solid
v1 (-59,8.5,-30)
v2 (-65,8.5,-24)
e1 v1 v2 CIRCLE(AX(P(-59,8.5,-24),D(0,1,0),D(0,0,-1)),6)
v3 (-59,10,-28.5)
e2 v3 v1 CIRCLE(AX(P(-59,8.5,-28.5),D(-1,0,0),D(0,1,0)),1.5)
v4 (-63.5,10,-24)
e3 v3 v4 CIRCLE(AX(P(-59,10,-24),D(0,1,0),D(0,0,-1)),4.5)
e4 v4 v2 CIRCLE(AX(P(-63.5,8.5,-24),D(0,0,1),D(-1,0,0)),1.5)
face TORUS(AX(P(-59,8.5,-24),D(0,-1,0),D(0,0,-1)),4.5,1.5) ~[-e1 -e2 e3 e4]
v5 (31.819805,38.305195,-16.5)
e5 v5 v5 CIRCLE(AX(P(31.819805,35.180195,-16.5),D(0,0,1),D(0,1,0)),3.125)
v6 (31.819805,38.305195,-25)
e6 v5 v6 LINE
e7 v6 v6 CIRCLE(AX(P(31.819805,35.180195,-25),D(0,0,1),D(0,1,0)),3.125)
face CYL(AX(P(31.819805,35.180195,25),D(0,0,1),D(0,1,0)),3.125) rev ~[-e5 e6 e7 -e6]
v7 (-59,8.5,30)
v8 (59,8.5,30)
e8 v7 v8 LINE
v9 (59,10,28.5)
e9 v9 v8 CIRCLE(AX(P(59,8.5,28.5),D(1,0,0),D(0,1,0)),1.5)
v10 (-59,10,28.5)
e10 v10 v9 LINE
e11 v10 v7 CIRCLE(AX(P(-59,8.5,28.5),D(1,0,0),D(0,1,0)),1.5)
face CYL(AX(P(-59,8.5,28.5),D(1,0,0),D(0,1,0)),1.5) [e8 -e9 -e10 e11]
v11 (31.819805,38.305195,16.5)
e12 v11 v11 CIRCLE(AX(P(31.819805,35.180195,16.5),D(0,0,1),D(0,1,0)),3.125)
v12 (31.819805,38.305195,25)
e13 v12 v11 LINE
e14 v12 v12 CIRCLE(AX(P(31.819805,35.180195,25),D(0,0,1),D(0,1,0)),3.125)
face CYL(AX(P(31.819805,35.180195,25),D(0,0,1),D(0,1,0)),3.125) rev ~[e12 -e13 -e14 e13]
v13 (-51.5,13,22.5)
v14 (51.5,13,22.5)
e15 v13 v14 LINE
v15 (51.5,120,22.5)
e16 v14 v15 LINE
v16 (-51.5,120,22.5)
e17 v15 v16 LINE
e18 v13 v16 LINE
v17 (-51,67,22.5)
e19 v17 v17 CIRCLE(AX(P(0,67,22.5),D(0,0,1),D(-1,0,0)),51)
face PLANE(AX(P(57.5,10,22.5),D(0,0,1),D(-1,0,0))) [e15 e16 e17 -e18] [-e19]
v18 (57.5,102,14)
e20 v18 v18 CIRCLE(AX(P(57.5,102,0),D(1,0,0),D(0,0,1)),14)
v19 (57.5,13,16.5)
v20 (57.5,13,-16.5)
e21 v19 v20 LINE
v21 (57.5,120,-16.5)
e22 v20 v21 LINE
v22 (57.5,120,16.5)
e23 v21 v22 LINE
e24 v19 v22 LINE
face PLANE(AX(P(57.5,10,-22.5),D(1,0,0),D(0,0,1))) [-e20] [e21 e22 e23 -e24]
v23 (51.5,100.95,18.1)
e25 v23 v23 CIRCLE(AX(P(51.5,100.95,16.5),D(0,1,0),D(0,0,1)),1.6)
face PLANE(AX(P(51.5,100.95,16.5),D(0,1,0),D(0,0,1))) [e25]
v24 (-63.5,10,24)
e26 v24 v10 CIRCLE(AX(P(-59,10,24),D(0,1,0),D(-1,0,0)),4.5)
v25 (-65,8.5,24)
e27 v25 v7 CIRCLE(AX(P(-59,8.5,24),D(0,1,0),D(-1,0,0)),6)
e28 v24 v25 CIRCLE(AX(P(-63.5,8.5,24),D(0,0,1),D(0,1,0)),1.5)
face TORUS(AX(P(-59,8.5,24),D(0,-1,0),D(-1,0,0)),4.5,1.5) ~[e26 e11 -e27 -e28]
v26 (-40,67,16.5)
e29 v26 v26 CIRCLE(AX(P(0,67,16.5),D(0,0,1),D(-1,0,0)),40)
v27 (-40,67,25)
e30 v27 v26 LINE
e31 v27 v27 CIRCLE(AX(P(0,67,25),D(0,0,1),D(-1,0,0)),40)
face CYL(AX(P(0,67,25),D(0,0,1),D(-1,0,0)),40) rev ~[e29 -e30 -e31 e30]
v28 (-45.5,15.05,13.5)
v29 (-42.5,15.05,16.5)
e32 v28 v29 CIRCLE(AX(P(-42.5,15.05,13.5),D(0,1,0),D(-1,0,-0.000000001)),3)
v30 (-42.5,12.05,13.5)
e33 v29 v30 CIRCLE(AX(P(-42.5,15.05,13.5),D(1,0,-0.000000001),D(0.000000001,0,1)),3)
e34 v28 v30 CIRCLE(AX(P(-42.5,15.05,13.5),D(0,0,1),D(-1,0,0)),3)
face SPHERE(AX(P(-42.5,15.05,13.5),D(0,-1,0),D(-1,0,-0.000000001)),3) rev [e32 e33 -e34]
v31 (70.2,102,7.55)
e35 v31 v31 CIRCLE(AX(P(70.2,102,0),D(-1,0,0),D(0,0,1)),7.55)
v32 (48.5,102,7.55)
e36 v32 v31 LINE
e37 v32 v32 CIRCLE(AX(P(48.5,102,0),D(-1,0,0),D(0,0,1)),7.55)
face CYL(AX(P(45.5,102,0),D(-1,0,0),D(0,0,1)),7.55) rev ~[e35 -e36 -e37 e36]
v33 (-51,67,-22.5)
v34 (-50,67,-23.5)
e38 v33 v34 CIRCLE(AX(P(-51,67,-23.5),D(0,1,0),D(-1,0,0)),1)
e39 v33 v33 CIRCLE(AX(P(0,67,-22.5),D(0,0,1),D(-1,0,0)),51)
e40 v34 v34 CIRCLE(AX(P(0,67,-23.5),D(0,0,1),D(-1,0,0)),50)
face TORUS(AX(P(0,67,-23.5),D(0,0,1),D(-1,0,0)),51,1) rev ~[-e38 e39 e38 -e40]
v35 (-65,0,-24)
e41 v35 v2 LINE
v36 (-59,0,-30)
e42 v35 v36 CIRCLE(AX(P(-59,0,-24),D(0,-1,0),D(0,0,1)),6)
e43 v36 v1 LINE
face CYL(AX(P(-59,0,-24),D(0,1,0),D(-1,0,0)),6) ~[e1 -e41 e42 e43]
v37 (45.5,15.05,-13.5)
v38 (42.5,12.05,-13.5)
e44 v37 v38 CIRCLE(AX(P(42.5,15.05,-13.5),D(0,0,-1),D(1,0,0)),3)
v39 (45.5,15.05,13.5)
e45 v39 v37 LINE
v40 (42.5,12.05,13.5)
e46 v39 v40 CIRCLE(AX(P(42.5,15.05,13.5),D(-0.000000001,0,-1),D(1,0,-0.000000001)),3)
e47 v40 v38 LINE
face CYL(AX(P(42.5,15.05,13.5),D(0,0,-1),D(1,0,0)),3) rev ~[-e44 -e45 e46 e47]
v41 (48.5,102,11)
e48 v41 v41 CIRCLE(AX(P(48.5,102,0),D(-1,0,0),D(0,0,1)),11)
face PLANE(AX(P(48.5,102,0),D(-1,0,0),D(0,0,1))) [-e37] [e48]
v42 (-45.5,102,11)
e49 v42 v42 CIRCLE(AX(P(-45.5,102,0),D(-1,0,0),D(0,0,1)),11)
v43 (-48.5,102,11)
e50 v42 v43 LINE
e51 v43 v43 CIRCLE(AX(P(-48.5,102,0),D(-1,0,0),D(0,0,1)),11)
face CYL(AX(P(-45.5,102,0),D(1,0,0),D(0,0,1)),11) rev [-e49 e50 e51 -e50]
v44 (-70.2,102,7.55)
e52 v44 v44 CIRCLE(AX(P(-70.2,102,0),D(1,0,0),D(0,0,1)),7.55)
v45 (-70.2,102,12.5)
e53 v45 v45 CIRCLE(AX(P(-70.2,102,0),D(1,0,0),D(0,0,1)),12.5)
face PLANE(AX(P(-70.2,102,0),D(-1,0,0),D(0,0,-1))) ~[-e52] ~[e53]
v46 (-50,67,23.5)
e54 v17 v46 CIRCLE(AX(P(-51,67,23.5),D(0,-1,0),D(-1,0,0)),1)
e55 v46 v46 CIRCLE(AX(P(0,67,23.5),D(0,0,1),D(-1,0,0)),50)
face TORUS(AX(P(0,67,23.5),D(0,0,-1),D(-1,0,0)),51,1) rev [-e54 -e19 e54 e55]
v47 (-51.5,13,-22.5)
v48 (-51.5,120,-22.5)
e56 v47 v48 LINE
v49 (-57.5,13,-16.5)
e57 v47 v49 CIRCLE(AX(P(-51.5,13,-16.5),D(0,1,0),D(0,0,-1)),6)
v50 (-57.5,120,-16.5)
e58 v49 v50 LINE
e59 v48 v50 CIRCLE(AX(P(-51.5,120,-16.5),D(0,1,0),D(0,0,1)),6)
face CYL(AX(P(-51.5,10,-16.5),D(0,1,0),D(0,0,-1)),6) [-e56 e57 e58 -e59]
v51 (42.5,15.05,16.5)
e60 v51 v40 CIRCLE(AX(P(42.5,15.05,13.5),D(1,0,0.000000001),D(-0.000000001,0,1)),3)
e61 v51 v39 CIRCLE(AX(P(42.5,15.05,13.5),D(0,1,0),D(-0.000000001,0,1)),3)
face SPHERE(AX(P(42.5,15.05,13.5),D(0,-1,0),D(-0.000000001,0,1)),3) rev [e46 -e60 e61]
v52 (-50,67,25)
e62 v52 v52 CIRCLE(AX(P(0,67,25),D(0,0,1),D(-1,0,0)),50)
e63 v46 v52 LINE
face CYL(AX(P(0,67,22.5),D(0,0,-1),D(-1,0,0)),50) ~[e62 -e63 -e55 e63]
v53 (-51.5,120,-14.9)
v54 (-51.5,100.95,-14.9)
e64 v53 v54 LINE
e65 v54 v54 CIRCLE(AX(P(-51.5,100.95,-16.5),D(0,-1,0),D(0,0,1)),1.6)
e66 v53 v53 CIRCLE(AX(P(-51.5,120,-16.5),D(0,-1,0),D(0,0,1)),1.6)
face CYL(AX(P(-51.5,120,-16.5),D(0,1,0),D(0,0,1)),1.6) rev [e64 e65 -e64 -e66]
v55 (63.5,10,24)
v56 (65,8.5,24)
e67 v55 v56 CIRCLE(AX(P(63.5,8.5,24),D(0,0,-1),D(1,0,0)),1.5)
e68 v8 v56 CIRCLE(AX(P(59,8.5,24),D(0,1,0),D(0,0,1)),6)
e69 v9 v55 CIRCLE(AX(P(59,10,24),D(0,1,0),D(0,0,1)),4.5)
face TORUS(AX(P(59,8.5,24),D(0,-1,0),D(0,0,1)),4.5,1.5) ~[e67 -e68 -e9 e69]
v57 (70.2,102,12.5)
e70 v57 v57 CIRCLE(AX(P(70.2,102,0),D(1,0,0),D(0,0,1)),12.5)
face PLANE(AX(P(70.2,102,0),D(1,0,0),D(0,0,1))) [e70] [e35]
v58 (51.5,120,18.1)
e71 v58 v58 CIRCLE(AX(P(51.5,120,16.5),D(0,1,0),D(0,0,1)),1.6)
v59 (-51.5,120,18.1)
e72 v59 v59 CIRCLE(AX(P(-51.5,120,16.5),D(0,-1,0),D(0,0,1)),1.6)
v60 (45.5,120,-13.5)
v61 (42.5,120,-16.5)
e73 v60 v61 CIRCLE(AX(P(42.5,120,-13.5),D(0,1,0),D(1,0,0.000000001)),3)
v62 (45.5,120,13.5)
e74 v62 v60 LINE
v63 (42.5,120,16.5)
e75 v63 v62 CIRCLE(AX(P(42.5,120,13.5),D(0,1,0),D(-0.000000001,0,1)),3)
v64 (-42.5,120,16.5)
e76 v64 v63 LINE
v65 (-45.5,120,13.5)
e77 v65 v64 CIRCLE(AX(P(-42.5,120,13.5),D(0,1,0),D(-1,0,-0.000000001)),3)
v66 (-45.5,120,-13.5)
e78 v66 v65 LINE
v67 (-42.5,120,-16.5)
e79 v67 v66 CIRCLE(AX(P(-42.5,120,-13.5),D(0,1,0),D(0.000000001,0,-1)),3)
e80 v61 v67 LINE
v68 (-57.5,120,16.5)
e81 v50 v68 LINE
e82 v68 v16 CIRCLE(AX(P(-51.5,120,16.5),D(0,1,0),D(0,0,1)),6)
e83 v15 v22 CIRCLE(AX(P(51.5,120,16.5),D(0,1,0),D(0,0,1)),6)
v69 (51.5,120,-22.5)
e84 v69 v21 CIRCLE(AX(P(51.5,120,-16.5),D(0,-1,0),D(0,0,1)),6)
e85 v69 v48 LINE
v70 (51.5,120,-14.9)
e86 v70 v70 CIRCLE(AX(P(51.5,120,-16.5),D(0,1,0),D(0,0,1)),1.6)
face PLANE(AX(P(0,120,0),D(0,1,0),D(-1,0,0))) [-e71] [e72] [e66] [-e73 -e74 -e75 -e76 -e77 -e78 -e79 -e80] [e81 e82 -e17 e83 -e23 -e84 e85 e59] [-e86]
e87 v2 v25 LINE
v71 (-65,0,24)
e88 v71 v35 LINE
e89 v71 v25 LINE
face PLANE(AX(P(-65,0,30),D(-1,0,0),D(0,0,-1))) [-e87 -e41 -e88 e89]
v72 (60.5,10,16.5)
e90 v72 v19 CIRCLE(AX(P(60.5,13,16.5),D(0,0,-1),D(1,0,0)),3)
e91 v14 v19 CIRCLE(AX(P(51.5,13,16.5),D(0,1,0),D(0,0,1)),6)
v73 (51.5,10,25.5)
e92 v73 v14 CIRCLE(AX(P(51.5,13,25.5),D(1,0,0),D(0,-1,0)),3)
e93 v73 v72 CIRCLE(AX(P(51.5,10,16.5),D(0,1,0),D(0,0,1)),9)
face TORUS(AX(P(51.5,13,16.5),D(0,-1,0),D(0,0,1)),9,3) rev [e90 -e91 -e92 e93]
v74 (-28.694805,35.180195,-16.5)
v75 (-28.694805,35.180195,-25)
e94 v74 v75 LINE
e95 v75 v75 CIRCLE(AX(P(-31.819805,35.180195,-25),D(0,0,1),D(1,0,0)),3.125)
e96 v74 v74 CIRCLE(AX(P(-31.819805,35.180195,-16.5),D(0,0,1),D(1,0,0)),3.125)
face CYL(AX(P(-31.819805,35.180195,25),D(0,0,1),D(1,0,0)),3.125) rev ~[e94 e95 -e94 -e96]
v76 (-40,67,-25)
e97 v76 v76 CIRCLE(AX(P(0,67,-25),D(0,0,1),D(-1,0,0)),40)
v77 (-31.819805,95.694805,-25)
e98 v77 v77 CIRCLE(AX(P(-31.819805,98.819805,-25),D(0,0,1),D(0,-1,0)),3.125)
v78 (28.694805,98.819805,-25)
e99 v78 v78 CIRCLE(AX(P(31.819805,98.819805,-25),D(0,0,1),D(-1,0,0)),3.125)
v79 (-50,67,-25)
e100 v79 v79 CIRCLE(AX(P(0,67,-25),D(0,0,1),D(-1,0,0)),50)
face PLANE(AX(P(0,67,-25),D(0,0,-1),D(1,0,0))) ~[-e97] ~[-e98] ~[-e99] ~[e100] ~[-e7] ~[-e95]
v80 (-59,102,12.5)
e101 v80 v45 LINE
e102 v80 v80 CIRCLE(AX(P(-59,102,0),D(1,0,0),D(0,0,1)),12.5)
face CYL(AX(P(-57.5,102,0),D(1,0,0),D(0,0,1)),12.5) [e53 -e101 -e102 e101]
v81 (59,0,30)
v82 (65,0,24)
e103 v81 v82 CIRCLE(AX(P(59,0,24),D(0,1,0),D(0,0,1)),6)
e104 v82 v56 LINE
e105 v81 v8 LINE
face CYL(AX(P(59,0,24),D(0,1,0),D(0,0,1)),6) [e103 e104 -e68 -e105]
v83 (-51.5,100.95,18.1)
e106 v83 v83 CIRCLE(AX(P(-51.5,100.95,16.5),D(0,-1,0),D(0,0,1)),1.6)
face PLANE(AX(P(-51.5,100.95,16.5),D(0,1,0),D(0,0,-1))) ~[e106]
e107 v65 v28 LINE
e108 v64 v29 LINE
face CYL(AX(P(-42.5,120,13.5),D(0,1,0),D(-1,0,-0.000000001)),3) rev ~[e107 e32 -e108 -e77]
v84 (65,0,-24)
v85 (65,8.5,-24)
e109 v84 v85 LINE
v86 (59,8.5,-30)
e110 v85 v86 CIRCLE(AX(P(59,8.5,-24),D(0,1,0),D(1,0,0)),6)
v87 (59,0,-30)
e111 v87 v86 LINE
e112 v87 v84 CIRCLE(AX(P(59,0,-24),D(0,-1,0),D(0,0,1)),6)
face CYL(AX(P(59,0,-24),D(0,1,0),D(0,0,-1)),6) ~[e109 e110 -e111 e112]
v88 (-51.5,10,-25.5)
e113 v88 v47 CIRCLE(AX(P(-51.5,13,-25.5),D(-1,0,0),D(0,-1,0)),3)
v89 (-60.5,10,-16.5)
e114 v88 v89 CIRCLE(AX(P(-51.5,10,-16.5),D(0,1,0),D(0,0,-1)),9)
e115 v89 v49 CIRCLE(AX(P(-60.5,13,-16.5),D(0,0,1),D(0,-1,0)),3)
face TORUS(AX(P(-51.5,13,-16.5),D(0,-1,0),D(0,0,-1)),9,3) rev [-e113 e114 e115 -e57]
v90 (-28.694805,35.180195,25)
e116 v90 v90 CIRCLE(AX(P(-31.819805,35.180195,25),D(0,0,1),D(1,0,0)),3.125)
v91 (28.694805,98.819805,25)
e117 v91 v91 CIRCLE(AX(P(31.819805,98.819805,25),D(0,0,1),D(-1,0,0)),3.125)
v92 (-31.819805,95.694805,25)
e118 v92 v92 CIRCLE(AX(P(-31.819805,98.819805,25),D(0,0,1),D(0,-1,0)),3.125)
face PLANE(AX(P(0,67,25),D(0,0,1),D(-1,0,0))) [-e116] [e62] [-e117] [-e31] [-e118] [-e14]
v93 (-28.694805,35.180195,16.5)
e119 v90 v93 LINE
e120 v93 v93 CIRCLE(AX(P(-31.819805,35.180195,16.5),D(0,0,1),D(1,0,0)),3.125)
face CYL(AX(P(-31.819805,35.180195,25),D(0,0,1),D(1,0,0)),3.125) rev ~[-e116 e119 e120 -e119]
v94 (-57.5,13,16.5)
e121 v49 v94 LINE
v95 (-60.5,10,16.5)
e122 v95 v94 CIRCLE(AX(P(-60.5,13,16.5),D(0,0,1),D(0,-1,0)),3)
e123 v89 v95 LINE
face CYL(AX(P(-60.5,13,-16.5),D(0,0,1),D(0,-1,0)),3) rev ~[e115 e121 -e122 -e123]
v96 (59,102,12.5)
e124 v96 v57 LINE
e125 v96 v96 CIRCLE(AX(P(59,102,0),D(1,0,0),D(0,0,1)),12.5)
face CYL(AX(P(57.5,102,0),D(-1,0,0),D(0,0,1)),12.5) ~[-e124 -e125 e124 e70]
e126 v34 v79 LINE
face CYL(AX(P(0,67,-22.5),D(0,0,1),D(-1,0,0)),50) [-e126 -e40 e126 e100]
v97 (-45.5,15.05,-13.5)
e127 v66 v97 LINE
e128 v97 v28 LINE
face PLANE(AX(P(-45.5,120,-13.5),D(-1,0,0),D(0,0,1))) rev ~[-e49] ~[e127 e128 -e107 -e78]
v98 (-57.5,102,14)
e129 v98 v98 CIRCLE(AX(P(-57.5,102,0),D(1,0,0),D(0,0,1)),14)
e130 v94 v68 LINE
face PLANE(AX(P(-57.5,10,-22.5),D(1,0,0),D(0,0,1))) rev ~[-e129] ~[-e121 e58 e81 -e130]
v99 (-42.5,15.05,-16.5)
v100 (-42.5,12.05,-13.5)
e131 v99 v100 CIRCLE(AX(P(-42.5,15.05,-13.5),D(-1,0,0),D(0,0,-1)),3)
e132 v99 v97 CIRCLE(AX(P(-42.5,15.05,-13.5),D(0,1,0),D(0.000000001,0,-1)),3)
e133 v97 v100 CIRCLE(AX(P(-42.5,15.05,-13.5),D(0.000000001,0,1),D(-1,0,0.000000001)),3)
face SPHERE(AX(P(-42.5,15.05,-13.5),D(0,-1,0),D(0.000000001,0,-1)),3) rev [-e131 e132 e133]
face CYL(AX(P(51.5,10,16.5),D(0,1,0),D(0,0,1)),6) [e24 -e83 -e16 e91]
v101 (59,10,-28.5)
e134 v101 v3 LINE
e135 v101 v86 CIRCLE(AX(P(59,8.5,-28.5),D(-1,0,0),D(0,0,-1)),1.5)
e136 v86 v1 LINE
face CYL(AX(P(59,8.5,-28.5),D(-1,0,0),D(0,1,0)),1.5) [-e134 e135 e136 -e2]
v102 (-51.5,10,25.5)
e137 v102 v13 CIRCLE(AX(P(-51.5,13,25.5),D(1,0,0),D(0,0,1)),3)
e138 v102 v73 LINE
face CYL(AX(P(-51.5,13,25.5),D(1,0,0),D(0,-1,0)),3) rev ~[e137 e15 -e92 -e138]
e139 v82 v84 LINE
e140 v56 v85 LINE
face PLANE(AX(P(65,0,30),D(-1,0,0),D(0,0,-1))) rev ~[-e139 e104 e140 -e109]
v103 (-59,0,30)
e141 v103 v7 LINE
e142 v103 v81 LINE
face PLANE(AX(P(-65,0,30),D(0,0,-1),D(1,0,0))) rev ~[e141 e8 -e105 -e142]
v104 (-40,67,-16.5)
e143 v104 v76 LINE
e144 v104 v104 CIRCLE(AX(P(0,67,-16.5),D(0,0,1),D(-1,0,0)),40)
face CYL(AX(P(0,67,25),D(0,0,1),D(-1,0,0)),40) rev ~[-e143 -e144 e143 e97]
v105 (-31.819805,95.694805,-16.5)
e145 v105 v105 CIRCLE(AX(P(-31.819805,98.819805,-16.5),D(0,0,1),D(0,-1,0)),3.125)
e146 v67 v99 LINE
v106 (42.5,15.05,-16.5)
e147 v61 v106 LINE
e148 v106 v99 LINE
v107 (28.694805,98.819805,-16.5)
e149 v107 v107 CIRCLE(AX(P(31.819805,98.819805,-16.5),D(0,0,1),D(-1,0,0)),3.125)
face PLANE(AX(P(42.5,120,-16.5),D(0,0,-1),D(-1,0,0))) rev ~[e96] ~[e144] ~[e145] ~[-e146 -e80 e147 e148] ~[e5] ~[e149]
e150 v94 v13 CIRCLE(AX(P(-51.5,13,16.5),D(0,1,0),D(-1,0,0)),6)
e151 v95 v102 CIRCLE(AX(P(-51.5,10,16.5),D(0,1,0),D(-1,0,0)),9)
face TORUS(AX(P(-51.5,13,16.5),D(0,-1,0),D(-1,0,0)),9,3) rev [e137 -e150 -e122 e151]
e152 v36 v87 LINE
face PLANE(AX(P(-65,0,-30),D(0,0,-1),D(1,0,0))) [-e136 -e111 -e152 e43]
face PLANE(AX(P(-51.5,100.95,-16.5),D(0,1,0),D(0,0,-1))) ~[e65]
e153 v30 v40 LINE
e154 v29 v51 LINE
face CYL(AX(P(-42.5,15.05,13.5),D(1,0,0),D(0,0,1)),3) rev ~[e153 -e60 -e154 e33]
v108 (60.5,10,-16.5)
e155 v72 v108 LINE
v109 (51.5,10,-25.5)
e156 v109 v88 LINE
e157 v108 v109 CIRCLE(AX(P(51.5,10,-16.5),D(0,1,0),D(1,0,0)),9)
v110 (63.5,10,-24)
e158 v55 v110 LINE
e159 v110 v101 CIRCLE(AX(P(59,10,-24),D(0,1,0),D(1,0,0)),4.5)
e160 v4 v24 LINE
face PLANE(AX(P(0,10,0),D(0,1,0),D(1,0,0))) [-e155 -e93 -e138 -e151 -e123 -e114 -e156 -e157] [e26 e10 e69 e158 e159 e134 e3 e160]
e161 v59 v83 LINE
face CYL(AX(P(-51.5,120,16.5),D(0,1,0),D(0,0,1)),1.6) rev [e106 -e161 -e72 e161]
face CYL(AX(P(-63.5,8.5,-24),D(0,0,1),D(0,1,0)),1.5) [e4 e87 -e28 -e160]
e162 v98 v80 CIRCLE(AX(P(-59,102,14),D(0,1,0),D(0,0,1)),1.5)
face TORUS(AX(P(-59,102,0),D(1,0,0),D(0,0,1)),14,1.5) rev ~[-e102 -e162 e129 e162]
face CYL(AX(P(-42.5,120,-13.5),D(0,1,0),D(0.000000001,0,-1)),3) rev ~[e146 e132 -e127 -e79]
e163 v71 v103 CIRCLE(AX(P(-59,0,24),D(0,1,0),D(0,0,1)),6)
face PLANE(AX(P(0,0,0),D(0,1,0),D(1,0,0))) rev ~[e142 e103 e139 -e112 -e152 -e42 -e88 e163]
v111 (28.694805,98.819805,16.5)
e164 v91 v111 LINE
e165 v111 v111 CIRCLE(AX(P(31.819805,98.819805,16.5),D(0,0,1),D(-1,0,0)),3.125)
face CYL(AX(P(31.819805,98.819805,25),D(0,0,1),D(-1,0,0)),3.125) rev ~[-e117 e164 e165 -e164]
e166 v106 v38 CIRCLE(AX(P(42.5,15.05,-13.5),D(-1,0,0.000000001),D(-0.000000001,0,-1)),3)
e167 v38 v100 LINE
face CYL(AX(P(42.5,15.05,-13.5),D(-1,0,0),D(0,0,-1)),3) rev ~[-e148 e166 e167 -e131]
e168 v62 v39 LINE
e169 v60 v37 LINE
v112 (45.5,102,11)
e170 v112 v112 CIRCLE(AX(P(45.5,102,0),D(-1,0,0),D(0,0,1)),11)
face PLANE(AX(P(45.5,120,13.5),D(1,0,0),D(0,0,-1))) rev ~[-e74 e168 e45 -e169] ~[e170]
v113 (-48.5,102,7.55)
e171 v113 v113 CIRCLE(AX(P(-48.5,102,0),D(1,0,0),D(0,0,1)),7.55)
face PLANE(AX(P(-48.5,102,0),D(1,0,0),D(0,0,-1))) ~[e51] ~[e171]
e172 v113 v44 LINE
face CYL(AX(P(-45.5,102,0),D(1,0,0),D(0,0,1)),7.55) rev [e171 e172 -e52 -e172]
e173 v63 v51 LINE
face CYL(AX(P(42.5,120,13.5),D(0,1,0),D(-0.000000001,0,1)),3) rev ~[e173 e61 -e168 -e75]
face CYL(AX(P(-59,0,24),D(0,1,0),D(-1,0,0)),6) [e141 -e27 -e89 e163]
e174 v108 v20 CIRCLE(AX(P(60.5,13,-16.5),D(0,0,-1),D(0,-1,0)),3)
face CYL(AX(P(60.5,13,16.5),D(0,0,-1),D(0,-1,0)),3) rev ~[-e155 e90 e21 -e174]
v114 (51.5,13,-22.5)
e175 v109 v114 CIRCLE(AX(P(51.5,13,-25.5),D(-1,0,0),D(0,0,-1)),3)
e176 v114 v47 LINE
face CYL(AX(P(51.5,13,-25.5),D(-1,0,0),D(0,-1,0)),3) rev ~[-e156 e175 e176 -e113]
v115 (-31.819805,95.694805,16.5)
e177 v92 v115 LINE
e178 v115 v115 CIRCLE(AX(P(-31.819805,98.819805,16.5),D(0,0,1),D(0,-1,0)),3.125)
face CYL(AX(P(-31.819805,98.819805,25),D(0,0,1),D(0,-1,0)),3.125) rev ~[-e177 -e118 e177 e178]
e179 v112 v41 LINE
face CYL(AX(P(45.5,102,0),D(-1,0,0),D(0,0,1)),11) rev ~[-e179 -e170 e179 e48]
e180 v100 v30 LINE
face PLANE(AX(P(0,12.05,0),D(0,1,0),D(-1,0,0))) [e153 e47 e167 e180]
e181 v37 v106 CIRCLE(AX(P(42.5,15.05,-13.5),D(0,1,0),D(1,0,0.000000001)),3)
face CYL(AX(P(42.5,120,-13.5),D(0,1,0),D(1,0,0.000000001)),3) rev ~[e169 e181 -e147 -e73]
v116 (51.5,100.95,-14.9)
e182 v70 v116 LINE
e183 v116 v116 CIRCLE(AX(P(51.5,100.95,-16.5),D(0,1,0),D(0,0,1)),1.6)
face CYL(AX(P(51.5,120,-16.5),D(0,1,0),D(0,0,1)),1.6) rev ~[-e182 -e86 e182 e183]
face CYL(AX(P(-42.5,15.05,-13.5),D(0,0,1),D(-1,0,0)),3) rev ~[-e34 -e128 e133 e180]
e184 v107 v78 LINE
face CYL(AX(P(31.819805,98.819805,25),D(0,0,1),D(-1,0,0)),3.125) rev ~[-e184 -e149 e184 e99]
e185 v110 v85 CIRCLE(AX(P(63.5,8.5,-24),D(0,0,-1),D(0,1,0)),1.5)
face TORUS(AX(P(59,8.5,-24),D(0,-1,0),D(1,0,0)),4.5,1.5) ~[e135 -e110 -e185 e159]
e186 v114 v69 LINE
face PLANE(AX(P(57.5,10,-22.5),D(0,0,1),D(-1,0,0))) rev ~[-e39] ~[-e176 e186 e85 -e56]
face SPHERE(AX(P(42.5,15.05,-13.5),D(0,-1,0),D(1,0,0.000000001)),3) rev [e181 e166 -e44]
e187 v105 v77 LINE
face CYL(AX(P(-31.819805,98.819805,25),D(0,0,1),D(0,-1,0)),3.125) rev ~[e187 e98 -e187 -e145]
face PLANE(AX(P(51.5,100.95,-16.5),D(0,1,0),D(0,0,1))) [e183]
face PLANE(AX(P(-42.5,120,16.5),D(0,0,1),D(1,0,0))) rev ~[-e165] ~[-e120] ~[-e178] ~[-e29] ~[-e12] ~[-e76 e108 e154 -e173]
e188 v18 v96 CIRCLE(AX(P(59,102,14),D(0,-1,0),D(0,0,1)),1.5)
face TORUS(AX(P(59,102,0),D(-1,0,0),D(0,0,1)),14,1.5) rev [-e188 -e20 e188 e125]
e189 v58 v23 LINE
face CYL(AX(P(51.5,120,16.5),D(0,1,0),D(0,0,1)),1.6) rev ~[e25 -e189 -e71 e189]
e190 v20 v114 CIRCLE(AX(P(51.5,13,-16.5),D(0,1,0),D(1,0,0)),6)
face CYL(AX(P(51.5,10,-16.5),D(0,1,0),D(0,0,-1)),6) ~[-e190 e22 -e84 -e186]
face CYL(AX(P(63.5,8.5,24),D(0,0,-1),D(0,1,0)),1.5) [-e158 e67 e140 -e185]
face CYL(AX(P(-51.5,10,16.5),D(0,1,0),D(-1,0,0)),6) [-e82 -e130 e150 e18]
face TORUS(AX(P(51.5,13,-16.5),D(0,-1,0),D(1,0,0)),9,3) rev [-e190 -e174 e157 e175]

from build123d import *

# Parameters (mm, degrees)
SKETCH1_W           = 130
SKETCH1_H           = 60
BASE_EXTRUDE_DEPTH  = 10
SKETCH2_W           = 115
SKETCH2_H           = 45
BOSS_EXTRUDE1_DEPTH = 110
FILLET1_R           = 6
FILLET2_R           = 1.5
FILLET3_R           = 3
CUT_EXTRUDE1_DEPTH  = 107.95
FILLET4_R           = 3
SKETCH4_R           = 50
BOSS_EXTRUDE2_DEPTH = 2.5
SKETCH5_R           = 40
CUT_EXTRUDE2_DEPTH  = 148.13938974
FILLET5_R           = 1
SKETCH6_R           = 12.5
BOSS_EXTRUDE3_DEPTH = 12.7
SKETCH7_R           = 7.55
CUT_EXTRUDE3_DEPTH  = 166.862141618
SKETCH8_R           = 11
CUT_EXTRUDE4_DEPTH  = 3
FILLET6_R           = 1.5
SKETCH9_R           = 3.125
CUT_EXTRUDE5_DEPTH  = 150.509330812
CIRPATTERN1_COUNT   = 4
SKETCH10_R          = 1.6
CUT_EXTRUDE6_DEPTH  = 19.05


with BuildPart() as part:
    # Sketch1 → Base-Extrude (new body)
    with BuildSketch(Plane(origin=(0, 0, 0), x_dir=(1, 0, 0), z_dir=(0, 1, 0))):
        Rectangle(SKETCH1_W, SKETCH1_H)
    extrude(amount=BASE_EXTRUDE_DEPTH)

    # Sketch2 → Boss-Extrude1 (add)
    with BuildSketch(Plane(origin=(0, 10, 0), x_dir=(-1, 0, 0), z_dir=(0, 1, 0))):
        Rectangle(SKETCH2_W, SKETCH2_H)
    extrude(amount=BOSS_EXTRUDE1_DEPTH)

    # Fillet1
    fillet1_edges = [part.edges().sort_by_distance(p)[0] for p in [
        (-57.5, 65, -22.5),
        (-57.5, 65, 22.5),
        (57.5, 65, 22.5),
        (57.5, 65, -22.5),
        (-65, 5, -30),
        (65, 5, -30),
        (65, 5, 30),
        (-65, 5, 30),
    ]]
    fillet(fillet1_edges, radius=FILLET1_R)

    # Fillet2
    fillet2_edges = [part.edges().sort_by_distance(p)[0] for p in [
        (0, 10, 30),
        (-65, 10, 0),
        (65, 10, 0),
        (0, 10, -30),
        (-63.242640687, 10, -28.242640687),
        (63.242640687, 10, 28.242640687),
        (63.242640687, 10, -28.242640687),
        (-63.242640687, 10, 28.242640687),
    ]]
    fillet(fillet2_edges, radius=FILLET2_R)

    # Fillet3
    fillet3_edges = [part.edges().sort_by_distance(p)[0] for p in [
        (-57.5, 10, 0),
        (0, 10, -22.5),
        (57.5, 10, 0),
        (0, 10, 22.5),
        (-55.742640687, 10, 20.742640687),
        (-55.742640687, 10, -20.742640687),
        (55.742640687, 10, 20.742640687),
        (55.742640687, 10, -20.742640687),
    ]]
    fillet(fillet3_edges, radius=FILLET3_R)

    # Sketch3 → Cut-Extrude1 (cut)
    with BuildSketch(Plane(origin=(0, 120, 0), x_dir=(-1, 0, 0), z_dir=(0, 1, 0))):
        with BuildLine():
            Line((42.5, 16.5), (-42.5, 16.5))
            ThreePointArc((-42.5, 16.5), (-44.621320344, 15.621320344), (-45.5, 13.5))
            Line((-45.5, 13.5), (-45.5, -13.5))
            ThreePointArc((-45.5, -13.5), (-44.621320344, -15.621320344), (-42.5, -16.5))
            Line((-42.5, -16.5), (42.5, -16.5))
            ThreePointArc((42.5, -16.5), (44.621320344, -15.621320344), (45.5, -13.5))
            Line((45.5, -13.5), (45.5, 13.5))
            ThreePointArc((45.5, 13.5), (44.621320344, 15.621320344), (42.5, 16.5))
        make_face()
    extrude(amount=-CUT_EXTRUDE1_DEPTH, mode=Mode.SUBTRACT)

    # Fillet4
    fillet4_edges = [part.edges().sort_by_distance(p)[0] for p in [
        (44.621320344, 12.05, 15.621320344),
        (0, 12.05, 16.5),
        (-44.621320344, 12.05, 15.621320344),
        (-45.5, 12.05, 0),
        (-44.621320344, 12.05, -15.621320344),
        (0, 12.05, -16.5),
        (44.621320344, 12.05, -15.621320344),
        (45.5, 12.05, 0),
    ]]
    fillet(fillet4_edges, radius=FILLET4_R)

    # Sketch4 → Boss-Extrude2 (add)
    with BuildSketch(Plane.XY.offset(22.5)):
        with Locations(Location((0, 67, 0), (0, 0, 180))):
            Circle(SKETCH4_R)
    boss_extrude2 = extrude(amount=BOSS_EXTRUDE2_DEPTH)

    # Mirror1: Boss-Extrude2 across plane
    add(boss_extrude2.mirror(Plane.XY))

    # Sketch5 → Cut-Extrude2 (cut, through all)
    with BuildSketch(Plane.XY.offset(25)):
        with Locations(Location((0, 67, 0), (0, 0, 180))):
            Circle(SKETCH5_R)
    extrude(amount=-CUT_EXTRUDE2_DEPTH, mode=Mode.SUBTRACT)

    # Fillet5
    fillet5_edges = [part.edges().sort_by_distance(p)[0] for p in [
        (50, 67, 22.5),
        (50, 67, -22.5),
    ]]
    fillet(fillet5_edges, radius=FILLET5_R)

    # Sketch6 → Boss-Extrude3 (add)
    with BuildSketch(Plane(origin=(57.5, 0, 0), x_dir=(0, 0, -1), z_dir=(1, 0, 0))):
        with Locations(Location((0, 102, 0), (0, 0, 180))):
            Circle(SKETCH6_R)
    boss_extrude3 = extrude(amount=BOSS_EXTRUDE3_DEPTH)

    # Sketch7 → Cut-Extrude3 (cut, through all)
    with BuildSketch(Plane.ZY.offset(-45.5)):
        with Locations((0, 102)):
            Circle(SKETCH7_R)
    cut_extrude3 = extrude(amount=-CUT_EXTRUDE3_DEPTH, mode=Mode.SUBTRACT)

    # Sketch8 → Cut-Extrude4 (cut)
    with BuildSketch(Plane.ZY.offset(-45.5)):
        with Locations((0, 102)):
            Circle(SKETCH8_R)
    cut_extrude4 = extrude(amount=-CUT_EXTRUDE4_DEPTH, mode=Mode.SUBTRACT)

    # Mirror3: Boss-Extrude3, Cut-Extrude3, Cut-Extrude4 across plane
    add(boss_extrude3.mirror(Plane(origin=(0, 0, 0), x_dir=(0, 0, 1), z_dir=(1, 0, 0))))
    add(cut_extrude3.mirror(Plane(origin=(0, 0, 0), x_dir=(0, 0, 1), z_dir=(1, 0, 0))), mode=Mode.SUBTRACT)
    add(cut_extrude4.mirror(Plane(origin=(0, 0, 0), x_dir=(0, 0, 1), z_dir=(1, 0, 0))), mode=Mode.SUBTRACT)

    # Fillet6
    fillet6_edges = [part.edges().sort_by_distance(p)[0] for p in [
        (57.5, 102, -12.5),
        (-57.5, 102, -12.5),
    ]]
    fillet(fillet6_edges, radius=FILLET6_R)

    # Sketch9 → Cut-Extrude5 (cut, through all)
    with BuildSketch(Plane.XY.offset(25)):
        with Locations(Location((31.819805153, 98.819805153, 0), (0, 0, 180))):
            Circle(SKETCH9_R)
    cut_extrude5 = extrude(amount=-CUT_EXTRUDE5_DEPTH, mode=Mode.SUBTRACT)

    # CirPattern1: Cut-Extrude5 ×4 about axis
    cirpattern1_axis = Axis((0, 67, 0), (0, 0, 1))
    for i in range(1, CIRPATTERN1_COUNT):
        add(cut_extrude5.rotate(cirpattern1_axis, i * 360 / CIRPATTERN1_COUNT), mode=Mode.SUBTRACT)

    # Sketch10 → Cut-Extrude6 (cut)
    with BuildSketch(Plane(origin=(0, 120, 0), x_dir=(-1, 0, 0), z_dir=(0, 1, 0))):
        with Locations(Location((-51.5, -16.5, 0), (0, 0, 90))):
            Circle(SKETCH10_R)
        with Locations(Location((-51.5, 16.5, 0), (0, 0, 90))):
            Circle(SKETCH10_R)
    cut_extrude6 = extrude(amount=-CUT_EXTRUDE6_DEPTH, mode=Mode.SUBTRACT)

    # Mirror4: Cut-Extrude6 across plane
    add(cut_extrude6.mirror(Plane(origin=(0, 0, 0), x_dir=(0, 0, 1), z_dir=(1, 0, 0))), mode=Mode.SUBTRACT)


solid = part.part
